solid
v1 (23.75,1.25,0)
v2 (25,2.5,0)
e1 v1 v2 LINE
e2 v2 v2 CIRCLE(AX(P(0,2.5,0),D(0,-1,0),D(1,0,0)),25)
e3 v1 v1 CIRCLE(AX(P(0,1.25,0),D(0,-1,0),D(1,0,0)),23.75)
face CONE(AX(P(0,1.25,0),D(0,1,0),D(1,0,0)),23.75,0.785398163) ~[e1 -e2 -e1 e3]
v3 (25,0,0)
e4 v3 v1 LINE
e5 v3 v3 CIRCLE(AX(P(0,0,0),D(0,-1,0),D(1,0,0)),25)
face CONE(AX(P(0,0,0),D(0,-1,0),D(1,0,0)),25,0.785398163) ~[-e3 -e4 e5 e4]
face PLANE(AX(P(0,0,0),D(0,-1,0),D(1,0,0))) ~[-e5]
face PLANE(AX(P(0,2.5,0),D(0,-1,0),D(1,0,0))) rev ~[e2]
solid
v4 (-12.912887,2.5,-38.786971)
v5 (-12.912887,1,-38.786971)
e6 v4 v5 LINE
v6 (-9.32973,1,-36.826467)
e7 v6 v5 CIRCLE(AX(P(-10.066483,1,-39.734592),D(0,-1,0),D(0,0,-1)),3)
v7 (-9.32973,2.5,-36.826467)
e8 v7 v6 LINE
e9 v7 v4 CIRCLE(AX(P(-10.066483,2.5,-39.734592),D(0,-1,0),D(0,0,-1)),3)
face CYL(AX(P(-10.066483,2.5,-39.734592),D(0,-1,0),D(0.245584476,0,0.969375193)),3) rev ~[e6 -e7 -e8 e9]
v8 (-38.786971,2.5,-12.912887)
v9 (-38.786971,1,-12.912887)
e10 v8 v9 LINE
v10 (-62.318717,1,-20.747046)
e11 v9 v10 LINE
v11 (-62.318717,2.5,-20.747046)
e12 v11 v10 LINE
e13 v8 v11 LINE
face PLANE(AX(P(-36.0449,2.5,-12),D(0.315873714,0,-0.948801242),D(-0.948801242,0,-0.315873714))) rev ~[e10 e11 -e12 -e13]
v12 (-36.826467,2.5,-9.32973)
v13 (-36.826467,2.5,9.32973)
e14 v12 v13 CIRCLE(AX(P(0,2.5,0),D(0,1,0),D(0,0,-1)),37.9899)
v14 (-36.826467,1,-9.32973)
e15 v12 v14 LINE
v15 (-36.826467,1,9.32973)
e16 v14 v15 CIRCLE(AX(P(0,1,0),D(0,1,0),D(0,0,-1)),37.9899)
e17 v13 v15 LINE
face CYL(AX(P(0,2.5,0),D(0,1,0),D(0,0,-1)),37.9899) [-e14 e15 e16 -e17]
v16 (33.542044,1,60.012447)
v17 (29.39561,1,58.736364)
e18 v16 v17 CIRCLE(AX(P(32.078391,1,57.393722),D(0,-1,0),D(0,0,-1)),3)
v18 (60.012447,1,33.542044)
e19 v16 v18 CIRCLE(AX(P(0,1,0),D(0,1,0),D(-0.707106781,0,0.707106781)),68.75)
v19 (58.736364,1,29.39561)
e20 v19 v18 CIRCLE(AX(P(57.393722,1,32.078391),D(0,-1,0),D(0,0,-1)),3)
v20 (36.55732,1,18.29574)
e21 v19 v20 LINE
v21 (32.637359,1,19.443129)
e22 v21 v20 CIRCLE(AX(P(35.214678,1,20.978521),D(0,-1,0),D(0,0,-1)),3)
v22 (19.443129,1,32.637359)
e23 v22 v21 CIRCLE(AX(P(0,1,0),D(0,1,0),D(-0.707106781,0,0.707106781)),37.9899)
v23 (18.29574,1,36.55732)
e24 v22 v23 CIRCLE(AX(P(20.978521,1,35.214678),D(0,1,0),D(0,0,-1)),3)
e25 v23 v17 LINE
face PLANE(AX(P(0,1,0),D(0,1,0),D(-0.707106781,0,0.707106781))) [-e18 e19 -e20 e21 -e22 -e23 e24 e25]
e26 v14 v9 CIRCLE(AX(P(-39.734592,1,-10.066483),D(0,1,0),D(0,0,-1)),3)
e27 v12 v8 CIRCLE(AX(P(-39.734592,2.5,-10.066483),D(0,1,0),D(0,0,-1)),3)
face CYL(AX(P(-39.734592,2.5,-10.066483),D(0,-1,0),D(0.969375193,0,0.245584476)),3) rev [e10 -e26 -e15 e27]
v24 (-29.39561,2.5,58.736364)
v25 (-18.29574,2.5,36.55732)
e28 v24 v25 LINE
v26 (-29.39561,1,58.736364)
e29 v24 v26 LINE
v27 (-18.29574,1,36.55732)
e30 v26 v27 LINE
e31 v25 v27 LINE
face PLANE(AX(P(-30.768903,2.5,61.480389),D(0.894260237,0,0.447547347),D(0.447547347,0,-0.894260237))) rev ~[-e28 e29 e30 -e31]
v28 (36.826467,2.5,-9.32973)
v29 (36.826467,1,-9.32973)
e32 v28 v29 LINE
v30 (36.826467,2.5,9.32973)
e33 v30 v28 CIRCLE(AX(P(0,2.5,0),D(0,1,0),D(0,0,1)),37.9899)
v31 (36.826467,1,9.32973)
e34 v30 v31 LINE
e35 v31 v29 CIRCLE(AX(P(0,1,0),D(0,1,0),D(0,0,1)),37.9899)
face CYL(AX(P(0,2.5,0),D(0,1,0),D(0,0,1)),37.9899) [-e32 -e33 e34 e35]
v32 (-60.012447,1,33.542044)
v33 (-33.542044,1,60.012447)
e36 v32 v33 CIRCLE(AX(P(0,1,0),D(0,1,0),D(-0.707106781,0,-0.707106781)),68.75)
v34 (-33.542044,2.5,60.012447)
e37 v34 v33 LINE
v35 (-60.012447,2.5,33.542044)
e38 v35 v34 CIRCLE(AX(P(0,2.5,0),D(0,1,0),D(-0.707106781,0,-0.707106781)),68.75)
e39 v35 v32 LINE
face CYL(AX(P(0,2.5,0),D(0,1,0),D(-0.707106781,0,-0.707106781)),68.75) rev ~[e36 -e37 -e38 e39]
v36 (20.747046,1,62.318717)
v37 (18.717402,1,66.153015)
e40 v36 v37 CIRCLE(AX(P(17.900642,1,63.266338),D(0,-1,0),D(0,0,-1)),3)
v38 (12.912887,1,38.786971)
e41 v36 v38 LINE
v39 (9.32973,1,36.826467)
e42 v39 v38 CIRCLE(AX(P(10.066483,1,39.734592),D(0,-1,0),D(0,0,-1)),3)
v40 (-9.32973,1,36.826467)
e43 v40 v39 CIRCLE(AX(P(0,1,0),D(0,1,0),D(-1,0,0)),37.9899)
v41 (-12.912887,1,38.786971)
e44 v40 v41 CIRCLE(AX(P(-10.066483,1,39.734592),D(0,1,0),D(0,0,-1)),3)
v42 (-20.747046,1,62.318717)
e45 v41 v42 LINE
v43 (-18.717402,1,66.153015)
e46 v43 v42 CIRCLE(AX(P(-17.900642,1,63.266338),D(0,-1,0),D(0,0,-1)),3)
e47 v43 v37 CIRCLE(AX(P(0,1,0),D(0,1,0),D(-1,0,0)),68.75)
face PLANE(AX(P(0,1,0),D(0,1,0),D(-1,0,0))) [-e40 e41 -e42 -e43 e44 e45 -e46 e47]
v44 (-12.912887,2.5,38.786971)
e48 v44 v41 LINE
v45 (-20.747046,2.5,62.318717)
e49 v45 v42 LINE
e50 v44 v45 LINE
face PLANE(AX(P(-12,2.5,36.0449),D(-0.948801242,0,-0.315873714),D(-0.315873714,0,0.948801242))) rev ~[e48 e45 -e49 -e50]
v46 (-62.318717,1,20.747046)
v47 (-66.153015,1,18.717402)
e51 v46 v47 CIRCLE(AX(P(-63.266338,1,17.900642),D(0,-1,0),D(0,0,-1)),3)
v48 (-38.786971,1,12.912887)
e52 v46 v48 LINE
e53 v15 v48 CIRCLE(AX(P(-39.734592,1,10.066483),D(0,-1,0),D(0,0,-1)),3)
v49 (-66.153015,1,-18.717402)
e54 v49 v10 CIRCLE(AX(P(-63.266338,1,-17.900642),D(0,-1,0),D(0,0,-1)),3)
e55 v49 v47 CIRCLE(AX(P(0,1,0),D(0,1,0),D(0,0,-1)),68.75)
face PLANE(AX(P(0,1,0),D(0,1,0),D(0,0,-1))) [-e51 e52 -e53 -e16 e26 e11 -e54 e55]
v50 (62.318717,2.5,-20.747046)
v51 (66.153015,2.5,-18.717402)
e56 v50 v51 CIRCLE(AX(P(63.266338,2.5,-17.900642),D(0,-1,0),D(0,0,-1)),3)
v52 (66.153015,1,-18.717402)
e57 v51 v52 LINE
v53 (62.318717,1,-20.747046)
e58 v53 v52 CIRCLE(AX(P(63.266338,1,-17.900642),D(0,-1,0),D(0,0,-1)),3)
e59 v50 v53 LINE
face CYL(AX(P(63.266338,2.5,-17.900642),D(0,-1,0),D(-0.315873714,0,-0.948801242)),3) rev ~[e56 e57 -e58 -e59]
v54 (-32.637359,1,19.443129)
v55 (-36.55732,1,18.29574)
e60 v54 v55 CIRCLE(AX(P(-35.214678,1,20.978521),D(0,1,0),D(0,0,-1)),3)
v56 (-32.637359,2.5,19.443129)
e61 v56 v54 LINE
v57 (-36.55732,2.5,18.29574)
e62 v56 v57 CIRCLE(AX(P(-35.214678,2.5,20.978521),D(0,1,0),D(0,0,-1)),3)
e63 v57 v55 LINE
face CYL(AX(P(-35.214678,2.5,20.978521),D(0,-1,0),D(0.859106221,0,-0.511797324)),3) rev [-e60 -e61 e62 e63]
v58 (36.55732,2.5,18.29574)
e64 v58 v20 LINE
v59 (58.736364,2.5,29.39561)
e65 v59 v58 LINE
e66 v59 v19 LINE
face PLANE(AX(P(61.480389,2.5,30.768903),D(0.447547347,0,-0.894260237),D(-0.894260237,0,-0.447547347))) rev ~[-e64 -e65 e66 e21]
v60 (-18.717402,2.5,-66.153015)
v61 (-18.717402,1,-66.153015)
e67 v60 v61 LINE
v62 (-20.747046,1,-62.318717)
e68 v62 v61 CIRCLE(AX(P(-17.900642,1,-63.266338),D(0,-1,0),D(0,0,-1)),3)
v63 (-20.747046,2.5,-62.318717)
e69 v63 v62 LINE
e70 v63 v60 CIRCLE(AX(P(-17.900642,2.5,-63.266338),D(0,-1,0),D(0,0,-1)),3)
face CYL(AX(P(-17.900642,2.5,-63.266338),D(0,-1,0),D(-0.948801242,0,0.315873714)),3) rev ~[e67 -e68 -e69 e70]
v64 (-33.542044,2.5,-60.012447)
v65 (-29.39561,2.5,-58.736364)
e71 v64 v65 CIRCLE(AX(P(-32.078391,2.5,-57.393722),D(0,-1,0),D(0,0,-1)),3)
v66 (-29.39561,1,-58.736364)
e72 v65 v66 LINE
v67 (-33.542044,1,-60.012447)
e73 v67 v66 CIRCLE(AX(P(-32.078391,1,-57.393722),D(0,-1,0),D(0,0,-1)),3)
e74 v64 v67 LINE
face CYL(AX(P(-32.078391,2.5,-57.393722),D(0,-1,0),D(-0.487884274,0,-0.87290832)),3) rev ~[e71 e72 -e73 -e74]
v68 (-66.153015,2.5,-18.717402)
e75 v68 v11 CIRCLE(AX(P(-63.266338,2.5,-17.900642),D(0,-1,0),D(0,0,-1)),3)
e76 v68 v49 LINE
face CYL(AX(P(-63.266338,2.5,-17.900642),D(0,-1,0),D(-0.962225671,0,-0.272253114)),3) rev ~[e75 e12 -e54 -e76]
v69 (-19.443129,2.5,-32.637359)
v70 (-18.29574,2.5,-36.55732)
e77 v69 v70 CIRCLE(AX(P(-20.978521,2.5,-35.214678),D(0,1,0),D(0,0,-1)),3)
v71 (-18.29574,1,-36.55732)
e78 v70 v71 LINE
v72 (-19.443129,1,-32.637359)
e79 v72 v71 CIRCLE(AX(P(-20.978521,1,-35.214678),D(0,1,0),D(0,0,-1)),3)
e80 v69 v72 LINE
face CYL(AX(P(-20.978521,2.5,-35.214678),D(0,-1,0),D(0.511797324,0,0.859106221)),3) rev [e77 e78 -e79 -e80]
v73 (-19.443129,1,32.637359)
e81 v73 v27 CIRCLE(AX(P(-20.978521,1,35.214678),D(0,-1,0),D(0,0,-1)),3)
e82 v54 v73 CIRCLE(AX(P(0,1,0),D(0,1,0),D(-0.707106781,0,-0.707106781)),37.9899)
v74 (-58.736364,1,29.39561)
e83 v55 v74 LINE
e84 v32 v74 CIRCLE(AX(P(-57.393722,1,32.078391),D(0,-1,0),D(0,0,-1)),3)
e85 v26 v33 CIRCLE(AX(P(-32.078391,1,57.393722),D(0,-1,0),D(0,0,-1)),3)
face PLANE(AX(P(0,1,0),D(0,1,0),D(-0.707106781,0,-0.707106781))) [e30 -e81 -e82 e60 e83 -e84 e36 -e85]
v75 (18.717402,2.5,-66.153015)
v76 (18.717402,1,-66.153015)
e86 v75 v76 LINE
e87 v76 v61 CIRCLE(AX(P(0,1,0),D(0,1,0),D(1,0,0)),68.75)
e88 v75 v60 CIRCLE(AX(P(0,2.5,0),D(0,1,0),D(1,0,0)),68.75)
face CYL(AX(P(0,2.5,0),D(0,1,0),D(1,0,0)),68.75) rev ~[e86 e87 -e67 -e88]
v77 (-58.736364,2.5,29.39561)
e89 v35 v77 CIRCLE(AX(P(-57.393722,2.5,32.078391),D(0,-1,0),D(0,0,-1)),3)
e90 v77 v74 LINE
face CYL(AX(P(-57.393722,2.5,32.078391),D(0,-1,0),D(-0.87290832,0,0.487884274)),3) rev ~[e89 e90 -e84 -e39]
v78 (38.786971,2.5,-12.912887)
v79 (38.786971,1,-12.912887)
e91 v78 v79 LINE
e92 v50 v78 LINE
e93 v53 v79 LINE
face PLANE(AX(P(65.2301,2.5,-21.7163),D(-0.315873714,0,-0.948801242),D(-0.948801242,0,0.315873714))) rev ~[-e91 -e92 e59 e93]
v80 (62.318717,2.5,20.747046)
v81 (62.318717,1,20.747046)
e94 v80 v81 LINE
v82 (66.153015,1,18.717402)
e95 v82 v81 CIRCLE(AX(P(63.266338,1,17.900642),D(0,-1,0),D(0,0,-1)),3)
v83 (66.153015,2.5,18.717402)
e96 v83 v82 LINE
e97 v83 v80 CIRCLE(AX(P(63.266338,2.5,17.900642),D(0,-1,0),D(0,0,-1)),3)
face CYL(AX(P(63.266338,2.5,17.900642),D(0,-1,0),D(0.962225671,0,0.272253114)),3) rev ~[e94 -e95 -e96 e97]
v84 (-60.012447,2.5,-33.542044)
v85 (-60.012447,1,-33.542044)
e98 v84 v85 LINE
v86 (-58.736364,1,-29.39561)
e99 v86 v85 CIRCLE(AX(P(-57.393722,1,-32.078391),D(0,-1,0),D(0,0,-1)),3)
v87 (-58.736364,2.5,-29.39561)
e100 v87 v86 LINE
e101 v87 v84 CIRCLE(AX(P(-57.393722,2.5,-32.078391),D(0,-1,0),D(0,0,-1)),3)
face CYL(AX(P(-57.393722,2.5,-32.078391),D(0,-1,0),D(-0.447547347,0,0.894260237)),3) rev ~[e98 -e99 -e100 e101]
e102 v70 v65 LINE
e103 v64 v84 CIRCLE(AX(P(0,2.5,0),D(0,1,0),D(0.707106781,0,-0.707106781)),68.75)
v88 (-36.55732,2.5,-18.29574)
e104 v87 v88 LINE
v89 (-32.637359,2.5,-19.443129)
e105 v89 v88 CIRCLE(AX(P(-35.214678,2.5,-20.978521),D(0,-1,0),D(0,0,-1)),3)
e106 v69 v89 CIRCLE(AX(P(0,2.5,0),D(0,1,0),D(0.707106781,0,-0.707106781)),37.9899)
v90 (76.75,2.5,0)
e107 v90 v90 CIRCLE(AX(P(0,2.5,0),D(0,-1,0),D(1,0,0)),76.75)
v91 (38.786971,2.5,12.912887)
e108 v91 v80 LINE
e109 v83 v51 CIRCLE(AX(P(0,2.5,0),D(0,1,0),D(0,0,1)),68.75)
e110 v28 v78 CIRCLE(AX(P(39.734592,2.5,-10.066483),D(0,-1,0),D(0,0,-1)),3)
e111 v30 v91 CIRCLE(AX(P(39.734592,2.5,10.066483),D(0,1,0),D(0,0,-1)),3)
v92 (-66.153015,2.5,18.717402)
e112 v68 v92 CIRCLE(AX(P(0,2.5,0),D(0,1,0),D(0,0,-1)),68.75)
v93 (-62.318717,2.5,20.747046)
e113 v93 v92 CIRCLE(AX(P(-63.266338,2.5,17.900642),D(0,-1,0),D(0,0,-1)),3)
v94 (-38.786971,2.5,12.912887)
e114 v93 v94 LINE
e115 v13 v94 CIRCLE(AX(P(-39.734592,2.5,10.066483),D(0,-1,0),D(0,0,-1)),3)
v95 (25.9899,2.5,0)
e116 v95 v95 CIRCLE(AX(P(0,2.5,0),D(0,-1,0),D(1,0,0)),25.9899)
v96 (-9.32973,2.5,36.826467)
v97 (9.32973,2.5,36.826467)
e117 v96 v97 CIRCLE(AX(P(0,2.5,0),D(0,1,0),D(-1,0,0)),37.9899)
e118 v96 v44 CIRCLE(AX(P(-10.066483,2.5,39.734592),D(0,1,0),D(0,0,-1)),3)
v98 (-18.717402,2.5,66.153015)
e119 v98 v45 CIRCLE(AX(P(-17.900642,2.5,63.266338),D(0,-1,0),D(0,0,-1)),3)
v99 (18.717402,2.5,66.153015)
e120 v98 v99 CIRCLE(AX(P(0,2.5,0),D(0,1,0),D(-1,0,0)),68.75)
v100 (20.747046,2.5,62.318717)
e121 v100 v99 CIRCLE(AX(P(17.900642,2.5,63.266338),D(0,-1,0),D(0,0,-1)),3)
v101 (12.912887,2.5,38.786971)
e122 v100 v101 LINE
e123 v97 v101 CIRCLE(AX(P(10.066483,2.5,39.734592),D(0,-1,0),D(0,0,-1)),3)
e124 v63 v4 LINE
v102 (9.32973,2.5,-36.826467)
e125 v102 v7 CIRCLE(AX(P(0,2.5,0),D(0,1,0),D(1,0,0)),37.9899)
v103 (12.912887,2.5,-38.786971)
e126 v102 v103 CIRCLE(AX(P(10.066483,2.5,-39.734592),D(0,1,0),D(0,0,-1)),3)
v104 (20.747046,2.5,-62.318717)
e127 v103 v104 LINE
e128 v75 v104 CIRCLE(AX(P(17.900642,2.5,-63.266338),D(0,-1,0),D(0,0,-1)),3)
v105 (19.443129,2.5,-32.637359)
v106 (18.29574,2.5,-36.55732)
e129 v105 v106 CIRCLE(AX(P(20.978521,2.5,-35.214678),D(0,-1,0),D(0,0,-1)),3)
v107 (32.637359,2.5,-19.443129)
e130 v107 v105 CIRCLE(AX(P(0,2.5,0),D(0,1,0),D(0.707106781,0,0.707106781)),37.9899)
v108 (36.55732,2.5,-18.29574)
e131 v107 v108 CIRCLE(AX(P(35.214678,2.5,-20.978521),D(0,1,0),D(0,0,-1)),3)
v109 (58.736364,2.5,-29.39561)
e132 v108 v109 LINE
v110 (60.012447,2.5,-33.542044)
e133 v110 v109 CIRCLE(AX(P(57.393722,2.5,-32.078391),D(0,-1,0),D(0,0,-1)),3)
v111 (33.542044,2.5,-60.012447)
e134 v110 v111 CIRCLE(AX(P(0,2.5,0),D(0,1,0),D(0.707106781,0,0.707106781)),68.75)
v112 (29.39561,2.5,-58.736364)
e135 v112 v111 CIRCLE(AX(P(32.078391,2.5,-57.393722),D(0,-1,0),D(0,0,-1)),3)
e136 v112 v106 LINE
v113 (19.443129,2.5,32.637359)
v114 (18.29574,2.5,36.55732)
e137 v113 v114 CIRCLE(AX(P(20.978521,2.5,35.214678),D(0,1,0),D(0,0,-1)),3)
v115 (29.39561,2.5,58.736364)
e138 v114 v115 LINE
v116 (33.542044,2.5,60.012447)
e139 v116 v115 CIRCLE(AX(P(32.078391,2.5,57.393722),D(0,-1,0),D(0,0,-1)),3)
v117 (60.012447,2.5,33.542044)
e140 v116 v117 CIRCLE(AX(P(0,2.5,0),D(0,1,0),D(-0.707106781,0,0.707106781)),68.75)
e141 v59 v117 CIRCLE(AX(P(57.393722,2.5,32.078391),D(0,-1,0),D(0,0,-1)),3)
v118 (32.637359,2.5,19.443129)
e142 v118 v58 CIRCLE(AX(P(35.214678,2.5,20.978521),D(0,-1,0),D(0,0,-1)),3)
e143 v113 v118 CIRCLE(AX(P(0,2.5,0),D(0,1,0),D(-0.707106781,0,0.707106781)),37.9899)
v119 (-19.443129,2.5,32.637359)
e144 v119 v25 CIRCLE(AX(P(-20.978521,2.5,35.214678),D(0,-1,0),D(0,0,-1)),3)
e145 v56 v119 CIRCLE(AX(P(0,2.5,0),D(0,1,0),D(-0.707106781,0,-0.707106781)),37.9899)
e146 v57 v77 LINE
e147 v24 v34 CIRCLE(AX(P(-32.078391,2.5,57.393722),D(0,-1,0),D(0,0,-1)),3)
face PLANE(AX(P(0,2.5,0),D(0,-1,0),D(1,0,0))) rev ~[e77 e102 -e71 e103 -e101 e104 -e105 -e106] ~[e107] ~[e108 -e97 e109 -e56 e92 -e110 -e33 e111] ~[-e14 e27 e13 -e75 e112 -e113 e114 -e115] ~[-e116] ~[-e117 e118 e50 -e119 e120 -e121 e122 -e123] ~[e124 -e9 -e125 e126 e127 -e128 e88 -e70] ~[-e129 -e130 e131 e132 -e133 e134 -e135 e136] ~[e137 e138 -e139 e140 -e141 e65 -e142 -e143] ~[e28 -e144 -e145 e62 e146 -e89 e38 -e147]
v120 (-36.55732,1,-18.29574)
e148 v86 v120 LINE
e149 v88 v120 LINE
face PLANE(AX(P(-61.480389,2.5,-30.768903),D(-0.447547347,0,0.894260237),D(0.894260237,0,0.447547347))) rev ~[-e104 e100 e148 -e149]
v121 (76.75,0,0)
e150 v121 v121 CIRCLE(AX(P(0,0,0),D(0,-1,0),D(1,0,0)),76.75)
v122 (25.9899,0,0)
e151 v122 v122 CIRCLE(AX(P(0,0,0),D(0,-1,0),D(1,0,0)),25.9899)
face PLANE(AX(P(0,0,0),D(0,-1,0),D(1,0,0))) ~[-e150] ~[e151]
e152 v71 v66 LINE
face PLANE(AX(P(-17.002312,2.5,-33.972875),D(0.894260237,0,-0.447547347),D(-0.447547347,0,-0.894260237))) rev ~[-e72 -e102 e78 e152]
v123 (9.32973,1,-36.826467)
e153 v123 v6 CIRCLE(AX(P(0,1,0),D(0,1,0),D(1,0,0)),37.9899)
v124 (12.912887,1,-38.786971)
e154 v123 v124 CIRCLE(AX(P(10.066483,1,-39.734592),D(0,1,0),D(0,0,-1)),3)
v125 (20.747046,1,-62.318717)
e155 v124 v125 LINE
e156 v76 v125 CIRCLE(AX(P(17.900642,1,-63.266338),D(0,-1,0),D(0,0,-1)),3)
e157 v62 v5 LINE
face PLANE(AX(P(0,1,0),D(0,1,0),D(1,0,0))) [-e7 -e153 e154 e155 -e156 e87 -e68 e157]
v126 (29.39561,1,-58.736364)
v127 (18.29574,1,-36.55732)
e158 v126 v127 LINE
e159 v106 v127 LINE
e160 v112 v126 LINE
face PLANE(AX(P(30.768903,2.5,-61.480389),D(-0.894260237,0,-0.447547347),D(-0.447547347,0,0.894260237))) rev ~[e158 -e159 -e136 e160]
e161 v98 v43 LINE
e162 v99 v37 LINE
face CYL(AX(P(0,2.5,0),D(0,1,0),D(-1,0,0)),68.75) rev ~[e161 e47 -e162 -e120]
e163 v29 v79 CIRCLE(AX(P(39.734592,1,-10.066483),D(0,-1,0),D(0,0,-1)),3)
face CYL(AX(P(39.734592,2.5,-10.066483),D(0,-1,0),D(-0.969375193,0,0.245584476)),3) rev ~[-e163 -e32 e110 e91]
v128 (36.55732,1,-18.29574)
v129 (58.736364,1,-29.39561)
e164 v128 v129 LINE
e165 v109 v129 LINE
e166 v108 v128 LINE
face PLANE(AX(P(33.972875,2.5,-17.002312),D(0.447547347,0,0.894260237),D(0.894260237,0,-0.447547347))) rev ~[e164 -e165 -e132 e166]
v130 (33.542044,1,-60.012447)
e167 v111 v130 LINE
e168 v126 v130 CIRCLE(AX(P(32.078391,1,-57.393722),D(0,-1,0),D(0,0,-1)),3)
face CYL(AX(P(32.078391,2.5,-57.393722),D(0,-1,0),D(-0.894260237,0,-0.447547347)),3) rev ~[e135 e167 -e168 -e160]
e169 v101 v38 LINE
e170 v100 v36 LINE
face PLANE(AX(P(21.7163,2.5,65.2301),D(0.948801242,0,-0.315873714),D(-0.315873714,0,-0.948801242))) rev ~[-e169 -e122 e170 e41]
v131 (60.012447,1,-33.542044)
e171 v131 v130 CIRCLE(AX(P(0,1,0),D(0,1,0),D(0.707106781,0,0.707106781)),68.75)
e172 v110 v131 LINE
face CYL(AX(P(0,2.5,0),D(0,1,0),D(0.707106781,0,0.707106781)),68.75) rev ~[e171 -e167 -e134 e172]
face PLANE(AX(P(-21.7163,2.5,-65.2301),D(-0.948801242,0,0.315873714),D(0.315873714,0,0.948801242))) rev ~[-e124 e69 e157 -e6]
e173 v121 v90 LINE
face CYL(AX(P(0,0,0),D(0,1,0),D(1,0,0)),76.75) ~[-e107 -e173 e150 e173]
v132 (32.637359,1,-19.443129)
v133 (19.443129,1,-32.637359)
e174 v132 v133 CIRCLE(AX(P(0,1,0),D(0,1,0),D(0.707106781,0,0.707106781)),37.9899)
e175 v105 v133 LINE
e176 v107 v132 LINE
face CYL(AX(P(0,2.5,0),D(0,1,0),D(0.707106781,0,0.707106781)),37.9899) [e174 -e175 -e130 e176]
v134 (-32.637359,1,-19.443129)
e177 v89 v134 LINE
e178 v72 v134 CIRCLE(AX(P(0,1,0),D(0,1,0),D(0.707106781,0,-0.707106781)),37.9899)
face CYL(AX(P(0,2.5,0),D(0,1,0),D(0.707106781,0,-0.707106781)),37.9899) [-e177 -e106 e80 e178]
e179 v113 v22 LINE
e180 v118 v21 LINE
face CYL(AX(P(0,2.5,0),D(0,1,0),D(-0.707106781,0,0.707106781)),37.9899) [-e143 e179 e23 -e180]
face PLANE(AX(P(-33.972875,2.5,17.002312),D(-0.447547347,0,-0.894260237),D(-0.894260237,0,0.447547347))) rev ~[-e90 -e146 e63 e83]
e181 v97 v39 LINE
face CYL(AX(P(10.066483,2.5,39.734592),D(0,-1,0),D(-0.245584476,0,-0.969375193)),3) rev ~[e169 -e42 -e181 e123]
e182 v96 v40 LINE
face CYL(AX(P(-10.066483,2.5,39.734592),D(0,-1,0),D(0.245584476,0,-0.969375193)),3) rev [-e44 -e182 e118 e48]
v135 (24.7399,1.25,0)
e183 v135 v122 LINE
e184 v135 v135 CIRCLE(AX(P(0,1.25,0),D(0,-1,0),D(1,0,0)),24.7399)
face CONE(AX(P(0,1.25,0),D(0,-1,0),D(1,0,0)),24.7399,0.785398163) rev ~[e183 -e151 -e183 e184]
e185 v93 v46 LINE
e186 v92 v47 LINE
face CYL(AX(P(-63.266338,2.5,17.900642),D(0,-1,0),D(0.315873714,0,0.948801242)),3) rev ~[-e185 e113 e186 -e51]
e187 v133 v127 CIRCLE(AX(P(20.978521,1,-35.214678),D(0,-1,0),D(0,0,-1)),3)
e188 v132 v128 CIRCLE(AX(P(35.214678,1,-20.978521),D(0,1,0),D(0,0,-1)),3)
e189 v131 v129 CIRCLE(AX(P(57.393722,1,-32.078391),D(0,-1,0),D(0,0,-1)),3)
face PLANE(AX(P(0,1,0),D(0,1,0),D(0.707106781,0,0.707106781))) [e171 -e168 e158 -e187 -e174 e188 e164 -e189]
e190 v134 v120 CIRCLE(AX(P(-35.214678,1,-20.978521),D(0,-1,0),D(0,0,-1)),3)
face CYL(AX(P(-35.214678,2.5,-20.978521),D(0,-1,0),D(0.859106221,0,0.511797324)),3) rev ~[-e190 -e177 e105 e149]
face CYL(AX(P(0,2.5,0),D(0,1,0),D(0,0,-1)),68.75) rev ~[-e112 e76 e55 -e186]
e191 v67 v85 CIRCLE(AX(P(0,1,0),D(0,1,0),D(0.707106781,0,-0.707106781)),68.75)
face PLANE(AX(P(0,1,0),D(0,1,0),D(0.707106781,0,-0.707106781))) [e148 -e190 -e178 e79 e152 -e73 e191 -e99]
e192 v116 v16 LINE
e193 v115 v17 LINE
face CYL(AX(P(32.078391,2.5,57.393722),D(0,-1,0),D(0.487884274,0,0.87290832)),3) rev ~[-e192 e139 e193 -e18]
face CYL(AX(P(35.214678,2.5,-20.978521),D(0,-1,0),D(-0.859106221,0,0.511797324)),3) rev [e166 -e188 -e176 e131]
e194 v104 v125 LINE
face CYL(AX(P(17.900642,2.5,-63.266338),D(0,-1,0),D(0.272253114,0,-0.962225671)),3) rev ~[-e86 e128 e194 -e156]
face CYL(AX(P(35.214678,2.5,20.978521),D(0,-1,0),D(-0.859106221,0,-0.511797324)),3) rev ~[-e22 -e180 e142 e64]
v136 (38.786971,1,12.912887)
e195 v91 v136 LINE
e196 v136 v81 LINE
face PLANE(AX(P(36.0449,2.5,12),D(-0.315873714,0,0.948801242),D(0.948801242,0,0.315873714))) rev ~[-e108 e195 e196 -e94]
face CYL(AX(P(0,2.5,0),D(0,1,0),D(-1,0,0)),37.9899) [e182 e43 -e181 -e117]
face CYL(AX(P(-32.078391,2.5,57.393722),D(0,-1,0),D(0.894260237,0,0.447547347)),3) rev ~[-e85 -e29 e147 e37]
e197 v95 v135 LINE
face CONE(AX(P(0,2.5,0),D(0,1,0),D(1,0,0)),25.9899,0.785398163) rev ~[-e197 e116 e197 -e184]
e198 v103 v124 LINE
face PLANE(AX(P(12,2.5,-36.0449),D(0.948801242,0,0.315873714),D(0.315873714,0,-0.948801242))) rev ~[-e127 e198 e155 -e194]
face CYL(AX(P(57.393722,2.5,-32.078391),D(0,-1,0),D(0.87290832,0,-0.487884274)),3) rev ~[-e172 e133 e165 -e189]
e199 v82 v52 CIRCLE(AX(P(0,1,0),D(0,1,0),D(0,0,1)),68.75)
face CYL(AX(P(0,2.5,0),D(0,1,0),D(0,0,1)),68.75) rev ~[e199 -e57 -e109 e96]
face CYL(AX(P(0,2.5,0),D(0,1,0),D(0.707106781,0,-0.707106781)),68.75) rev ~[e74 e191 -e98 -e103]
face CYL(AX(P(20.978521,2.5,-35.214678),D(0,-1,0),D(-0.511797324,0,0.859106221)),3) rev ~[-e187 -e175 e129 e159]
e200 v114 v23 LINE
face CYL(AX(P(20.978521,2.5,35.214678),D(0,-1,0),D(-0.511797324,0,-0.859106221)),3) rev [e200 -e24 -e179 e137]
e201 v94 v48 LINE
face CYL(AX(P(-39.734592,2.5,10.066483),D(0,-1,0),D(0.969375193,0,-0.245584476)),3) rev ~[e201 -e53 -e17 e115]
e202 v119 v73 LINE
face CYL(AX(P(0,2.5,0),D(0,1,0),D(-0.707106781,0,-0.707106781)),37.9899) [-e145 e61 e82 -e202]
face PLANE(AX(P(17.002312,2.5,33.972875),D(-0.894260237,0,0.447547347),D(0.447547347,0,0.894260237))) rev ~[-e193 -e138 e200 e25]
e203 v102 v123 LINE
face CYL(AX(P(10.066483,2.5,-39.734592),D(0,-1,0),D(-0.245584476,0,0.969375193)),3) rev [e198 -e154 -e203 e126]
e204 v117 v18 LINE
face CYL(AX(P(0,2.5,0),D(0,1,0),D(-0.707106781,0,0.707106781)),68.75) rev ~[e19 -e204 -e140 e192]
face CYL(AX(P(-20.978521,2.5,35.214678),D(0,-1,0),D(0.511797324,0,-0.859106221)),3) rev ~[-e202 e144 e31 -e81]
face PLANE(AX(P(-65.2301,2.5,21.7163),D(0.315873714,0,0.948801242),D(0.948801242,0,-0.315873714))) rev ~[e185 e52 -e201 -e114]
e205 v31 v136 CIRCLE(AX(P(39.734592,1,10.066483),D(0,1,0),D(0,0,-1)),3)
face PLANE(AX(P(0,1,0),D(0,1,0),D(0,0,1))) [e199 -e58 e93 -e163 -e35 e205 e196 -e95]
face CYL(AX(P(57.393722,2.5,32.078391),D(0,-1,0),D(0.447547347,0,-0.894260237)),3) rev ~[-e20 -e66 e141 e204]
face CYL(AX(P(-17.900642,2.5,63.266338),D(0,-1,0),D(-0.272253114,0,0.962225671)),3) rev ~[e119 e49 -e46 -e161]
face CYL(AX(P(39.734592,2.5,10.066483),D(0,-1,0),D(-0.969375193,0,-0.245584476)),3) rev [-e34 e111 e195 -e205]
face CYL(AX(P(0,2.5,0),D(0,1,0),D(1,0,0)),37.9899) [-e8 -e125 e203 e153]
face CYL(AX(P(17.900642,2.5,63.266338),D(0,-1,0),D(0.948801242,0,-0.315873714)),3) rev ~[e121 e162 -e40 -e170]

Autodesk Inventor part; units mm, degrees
ref_plane "YZ Plane" through (0, 0, 0) normal (1, 0, 0) x (0, 1, 0)
ref_plane "XZ Plane" through (0, 0, 0) normal (0, 1, 0) x (-1, 0, 0)
ref_plane "XY Plane" through (0, 0, 0) normal (0, 0, 1) x (1, 0, 0)
sketch "Sketch1" plane through (0, 0, 0) normal (0, 0, 1) x (1, 0, 0)
  line L0 (0, 0) -> (0, -126.8557)
  line L1 (0, 0) -> (25, 0)
  line L2 (25, 0) -> (23.75, 1.25)
  line L3 (23.75, 1.25) -> (25, 2.5)
  line L4 (25, 2.5) -> (0, 2.5)
  line L5 (0, 2.5) -> (0, 0)
  line L6 (25.9899, 2.5) -> (24.7399, 1.25)
  line L7 (24.7399, 1.25) -> (25.9899, 0)
  line L8 (25.9899, 0) -> (76.75, 0)
  line L9 (76.75, 0) -> (76.75, 2.5)
  line L10 (76.75, 2.5) -> (25.9899, 2.5)
  point P0 (0, 1.25)
  dimension "d0" = 45
  dimension "d1" = 153.5
  dimension "d2" = 2.5
  dimension "d3" = 0.7
  dimension "d4" = 50
revolve "Revolution1" add sketch "Sketch1" angle 360 about axis through (0, 0, 0) along (0, -1, 0)
sketch "Sketch2" plane through (0, 2.5, 0) normal (0, 1, 0) x (1, 0, 0)
  circle A0 centre (0, 0) radius 25.9899 projected
  circle A1 centre (0, 0) radius 76.75 projected
  circle A2 centre (0, 0) radius 68.75
  circle A3 centre (0, 0) radius 37.9899
  line L0 (-21.7163, 65.2301) -> (-12, 36.0449)
  line L1 (12, 36.0449) -> (21.7163, 65.2301)
  line L2 (-12, 36.0449) -> (12, 36.0449) construction
  line L3 (-61.4804, 30.7689) -> (-33.9729, 17.0023)
  line L4 (-17.0023, 33.9729) -> (-30.7689, 61.4804)
  line L5 (-65.2301, -21.7163) -> (-36.0449, -12)
  line L6 (-36.0449, 12) -> (-65.2301, 21.7163)
  line L7 (-30.7689, -61.4804) -> (-17.0023, -33.9729)
  line L8 (-33.9729, -17.0023) -> (-61.4804, -30.7689)
  line L9 (21.7163, -65.2301) -> (12, -36.0449)
  line L10 (-12, -36.0449) -> (-21.7163, -65.2301)
  line L11 (61.4804, -30.7689) -> (33.9729, -17.0023)
  line L12 (17.0023, -33.9729) -> (30.7689, -61.4804)
  line L13 (65.2301, 21.7163) -> (36.0449, 12)
  line L14 (36.0449, -12) -> (65.2301, -21.7163)
  line L15 (30.7689, 61.4804) -> (17.0023, 33.9729)
  line L16 (33.9729, 17.0023) -> (61.4804, 30.7689)
  dimension "d6" = 8
  dimension "d7" = 12
  dimension "d10" = 360
  dimension "d12" = 24
extrude "Extrusion1" cut sketch "Sketch2" against normal blind 1.5 contours L1 A3 L0 A2
fillet "Fillet1" radius 3 4 edges at (12, 1.75, -36.0449) (21.7163, 1.75, -65.2301) (-12, 1.75, -36.0449) (-21.7163, 1.75, -65.2301)
pattern_circular "Circular Pattern1" count 8 over 360 about axis through (0, 1.25, 0) along (0, -1, 0) of "Extrusion1", "Fillet1"
properties part number "centre" material "ABS Plastic"
